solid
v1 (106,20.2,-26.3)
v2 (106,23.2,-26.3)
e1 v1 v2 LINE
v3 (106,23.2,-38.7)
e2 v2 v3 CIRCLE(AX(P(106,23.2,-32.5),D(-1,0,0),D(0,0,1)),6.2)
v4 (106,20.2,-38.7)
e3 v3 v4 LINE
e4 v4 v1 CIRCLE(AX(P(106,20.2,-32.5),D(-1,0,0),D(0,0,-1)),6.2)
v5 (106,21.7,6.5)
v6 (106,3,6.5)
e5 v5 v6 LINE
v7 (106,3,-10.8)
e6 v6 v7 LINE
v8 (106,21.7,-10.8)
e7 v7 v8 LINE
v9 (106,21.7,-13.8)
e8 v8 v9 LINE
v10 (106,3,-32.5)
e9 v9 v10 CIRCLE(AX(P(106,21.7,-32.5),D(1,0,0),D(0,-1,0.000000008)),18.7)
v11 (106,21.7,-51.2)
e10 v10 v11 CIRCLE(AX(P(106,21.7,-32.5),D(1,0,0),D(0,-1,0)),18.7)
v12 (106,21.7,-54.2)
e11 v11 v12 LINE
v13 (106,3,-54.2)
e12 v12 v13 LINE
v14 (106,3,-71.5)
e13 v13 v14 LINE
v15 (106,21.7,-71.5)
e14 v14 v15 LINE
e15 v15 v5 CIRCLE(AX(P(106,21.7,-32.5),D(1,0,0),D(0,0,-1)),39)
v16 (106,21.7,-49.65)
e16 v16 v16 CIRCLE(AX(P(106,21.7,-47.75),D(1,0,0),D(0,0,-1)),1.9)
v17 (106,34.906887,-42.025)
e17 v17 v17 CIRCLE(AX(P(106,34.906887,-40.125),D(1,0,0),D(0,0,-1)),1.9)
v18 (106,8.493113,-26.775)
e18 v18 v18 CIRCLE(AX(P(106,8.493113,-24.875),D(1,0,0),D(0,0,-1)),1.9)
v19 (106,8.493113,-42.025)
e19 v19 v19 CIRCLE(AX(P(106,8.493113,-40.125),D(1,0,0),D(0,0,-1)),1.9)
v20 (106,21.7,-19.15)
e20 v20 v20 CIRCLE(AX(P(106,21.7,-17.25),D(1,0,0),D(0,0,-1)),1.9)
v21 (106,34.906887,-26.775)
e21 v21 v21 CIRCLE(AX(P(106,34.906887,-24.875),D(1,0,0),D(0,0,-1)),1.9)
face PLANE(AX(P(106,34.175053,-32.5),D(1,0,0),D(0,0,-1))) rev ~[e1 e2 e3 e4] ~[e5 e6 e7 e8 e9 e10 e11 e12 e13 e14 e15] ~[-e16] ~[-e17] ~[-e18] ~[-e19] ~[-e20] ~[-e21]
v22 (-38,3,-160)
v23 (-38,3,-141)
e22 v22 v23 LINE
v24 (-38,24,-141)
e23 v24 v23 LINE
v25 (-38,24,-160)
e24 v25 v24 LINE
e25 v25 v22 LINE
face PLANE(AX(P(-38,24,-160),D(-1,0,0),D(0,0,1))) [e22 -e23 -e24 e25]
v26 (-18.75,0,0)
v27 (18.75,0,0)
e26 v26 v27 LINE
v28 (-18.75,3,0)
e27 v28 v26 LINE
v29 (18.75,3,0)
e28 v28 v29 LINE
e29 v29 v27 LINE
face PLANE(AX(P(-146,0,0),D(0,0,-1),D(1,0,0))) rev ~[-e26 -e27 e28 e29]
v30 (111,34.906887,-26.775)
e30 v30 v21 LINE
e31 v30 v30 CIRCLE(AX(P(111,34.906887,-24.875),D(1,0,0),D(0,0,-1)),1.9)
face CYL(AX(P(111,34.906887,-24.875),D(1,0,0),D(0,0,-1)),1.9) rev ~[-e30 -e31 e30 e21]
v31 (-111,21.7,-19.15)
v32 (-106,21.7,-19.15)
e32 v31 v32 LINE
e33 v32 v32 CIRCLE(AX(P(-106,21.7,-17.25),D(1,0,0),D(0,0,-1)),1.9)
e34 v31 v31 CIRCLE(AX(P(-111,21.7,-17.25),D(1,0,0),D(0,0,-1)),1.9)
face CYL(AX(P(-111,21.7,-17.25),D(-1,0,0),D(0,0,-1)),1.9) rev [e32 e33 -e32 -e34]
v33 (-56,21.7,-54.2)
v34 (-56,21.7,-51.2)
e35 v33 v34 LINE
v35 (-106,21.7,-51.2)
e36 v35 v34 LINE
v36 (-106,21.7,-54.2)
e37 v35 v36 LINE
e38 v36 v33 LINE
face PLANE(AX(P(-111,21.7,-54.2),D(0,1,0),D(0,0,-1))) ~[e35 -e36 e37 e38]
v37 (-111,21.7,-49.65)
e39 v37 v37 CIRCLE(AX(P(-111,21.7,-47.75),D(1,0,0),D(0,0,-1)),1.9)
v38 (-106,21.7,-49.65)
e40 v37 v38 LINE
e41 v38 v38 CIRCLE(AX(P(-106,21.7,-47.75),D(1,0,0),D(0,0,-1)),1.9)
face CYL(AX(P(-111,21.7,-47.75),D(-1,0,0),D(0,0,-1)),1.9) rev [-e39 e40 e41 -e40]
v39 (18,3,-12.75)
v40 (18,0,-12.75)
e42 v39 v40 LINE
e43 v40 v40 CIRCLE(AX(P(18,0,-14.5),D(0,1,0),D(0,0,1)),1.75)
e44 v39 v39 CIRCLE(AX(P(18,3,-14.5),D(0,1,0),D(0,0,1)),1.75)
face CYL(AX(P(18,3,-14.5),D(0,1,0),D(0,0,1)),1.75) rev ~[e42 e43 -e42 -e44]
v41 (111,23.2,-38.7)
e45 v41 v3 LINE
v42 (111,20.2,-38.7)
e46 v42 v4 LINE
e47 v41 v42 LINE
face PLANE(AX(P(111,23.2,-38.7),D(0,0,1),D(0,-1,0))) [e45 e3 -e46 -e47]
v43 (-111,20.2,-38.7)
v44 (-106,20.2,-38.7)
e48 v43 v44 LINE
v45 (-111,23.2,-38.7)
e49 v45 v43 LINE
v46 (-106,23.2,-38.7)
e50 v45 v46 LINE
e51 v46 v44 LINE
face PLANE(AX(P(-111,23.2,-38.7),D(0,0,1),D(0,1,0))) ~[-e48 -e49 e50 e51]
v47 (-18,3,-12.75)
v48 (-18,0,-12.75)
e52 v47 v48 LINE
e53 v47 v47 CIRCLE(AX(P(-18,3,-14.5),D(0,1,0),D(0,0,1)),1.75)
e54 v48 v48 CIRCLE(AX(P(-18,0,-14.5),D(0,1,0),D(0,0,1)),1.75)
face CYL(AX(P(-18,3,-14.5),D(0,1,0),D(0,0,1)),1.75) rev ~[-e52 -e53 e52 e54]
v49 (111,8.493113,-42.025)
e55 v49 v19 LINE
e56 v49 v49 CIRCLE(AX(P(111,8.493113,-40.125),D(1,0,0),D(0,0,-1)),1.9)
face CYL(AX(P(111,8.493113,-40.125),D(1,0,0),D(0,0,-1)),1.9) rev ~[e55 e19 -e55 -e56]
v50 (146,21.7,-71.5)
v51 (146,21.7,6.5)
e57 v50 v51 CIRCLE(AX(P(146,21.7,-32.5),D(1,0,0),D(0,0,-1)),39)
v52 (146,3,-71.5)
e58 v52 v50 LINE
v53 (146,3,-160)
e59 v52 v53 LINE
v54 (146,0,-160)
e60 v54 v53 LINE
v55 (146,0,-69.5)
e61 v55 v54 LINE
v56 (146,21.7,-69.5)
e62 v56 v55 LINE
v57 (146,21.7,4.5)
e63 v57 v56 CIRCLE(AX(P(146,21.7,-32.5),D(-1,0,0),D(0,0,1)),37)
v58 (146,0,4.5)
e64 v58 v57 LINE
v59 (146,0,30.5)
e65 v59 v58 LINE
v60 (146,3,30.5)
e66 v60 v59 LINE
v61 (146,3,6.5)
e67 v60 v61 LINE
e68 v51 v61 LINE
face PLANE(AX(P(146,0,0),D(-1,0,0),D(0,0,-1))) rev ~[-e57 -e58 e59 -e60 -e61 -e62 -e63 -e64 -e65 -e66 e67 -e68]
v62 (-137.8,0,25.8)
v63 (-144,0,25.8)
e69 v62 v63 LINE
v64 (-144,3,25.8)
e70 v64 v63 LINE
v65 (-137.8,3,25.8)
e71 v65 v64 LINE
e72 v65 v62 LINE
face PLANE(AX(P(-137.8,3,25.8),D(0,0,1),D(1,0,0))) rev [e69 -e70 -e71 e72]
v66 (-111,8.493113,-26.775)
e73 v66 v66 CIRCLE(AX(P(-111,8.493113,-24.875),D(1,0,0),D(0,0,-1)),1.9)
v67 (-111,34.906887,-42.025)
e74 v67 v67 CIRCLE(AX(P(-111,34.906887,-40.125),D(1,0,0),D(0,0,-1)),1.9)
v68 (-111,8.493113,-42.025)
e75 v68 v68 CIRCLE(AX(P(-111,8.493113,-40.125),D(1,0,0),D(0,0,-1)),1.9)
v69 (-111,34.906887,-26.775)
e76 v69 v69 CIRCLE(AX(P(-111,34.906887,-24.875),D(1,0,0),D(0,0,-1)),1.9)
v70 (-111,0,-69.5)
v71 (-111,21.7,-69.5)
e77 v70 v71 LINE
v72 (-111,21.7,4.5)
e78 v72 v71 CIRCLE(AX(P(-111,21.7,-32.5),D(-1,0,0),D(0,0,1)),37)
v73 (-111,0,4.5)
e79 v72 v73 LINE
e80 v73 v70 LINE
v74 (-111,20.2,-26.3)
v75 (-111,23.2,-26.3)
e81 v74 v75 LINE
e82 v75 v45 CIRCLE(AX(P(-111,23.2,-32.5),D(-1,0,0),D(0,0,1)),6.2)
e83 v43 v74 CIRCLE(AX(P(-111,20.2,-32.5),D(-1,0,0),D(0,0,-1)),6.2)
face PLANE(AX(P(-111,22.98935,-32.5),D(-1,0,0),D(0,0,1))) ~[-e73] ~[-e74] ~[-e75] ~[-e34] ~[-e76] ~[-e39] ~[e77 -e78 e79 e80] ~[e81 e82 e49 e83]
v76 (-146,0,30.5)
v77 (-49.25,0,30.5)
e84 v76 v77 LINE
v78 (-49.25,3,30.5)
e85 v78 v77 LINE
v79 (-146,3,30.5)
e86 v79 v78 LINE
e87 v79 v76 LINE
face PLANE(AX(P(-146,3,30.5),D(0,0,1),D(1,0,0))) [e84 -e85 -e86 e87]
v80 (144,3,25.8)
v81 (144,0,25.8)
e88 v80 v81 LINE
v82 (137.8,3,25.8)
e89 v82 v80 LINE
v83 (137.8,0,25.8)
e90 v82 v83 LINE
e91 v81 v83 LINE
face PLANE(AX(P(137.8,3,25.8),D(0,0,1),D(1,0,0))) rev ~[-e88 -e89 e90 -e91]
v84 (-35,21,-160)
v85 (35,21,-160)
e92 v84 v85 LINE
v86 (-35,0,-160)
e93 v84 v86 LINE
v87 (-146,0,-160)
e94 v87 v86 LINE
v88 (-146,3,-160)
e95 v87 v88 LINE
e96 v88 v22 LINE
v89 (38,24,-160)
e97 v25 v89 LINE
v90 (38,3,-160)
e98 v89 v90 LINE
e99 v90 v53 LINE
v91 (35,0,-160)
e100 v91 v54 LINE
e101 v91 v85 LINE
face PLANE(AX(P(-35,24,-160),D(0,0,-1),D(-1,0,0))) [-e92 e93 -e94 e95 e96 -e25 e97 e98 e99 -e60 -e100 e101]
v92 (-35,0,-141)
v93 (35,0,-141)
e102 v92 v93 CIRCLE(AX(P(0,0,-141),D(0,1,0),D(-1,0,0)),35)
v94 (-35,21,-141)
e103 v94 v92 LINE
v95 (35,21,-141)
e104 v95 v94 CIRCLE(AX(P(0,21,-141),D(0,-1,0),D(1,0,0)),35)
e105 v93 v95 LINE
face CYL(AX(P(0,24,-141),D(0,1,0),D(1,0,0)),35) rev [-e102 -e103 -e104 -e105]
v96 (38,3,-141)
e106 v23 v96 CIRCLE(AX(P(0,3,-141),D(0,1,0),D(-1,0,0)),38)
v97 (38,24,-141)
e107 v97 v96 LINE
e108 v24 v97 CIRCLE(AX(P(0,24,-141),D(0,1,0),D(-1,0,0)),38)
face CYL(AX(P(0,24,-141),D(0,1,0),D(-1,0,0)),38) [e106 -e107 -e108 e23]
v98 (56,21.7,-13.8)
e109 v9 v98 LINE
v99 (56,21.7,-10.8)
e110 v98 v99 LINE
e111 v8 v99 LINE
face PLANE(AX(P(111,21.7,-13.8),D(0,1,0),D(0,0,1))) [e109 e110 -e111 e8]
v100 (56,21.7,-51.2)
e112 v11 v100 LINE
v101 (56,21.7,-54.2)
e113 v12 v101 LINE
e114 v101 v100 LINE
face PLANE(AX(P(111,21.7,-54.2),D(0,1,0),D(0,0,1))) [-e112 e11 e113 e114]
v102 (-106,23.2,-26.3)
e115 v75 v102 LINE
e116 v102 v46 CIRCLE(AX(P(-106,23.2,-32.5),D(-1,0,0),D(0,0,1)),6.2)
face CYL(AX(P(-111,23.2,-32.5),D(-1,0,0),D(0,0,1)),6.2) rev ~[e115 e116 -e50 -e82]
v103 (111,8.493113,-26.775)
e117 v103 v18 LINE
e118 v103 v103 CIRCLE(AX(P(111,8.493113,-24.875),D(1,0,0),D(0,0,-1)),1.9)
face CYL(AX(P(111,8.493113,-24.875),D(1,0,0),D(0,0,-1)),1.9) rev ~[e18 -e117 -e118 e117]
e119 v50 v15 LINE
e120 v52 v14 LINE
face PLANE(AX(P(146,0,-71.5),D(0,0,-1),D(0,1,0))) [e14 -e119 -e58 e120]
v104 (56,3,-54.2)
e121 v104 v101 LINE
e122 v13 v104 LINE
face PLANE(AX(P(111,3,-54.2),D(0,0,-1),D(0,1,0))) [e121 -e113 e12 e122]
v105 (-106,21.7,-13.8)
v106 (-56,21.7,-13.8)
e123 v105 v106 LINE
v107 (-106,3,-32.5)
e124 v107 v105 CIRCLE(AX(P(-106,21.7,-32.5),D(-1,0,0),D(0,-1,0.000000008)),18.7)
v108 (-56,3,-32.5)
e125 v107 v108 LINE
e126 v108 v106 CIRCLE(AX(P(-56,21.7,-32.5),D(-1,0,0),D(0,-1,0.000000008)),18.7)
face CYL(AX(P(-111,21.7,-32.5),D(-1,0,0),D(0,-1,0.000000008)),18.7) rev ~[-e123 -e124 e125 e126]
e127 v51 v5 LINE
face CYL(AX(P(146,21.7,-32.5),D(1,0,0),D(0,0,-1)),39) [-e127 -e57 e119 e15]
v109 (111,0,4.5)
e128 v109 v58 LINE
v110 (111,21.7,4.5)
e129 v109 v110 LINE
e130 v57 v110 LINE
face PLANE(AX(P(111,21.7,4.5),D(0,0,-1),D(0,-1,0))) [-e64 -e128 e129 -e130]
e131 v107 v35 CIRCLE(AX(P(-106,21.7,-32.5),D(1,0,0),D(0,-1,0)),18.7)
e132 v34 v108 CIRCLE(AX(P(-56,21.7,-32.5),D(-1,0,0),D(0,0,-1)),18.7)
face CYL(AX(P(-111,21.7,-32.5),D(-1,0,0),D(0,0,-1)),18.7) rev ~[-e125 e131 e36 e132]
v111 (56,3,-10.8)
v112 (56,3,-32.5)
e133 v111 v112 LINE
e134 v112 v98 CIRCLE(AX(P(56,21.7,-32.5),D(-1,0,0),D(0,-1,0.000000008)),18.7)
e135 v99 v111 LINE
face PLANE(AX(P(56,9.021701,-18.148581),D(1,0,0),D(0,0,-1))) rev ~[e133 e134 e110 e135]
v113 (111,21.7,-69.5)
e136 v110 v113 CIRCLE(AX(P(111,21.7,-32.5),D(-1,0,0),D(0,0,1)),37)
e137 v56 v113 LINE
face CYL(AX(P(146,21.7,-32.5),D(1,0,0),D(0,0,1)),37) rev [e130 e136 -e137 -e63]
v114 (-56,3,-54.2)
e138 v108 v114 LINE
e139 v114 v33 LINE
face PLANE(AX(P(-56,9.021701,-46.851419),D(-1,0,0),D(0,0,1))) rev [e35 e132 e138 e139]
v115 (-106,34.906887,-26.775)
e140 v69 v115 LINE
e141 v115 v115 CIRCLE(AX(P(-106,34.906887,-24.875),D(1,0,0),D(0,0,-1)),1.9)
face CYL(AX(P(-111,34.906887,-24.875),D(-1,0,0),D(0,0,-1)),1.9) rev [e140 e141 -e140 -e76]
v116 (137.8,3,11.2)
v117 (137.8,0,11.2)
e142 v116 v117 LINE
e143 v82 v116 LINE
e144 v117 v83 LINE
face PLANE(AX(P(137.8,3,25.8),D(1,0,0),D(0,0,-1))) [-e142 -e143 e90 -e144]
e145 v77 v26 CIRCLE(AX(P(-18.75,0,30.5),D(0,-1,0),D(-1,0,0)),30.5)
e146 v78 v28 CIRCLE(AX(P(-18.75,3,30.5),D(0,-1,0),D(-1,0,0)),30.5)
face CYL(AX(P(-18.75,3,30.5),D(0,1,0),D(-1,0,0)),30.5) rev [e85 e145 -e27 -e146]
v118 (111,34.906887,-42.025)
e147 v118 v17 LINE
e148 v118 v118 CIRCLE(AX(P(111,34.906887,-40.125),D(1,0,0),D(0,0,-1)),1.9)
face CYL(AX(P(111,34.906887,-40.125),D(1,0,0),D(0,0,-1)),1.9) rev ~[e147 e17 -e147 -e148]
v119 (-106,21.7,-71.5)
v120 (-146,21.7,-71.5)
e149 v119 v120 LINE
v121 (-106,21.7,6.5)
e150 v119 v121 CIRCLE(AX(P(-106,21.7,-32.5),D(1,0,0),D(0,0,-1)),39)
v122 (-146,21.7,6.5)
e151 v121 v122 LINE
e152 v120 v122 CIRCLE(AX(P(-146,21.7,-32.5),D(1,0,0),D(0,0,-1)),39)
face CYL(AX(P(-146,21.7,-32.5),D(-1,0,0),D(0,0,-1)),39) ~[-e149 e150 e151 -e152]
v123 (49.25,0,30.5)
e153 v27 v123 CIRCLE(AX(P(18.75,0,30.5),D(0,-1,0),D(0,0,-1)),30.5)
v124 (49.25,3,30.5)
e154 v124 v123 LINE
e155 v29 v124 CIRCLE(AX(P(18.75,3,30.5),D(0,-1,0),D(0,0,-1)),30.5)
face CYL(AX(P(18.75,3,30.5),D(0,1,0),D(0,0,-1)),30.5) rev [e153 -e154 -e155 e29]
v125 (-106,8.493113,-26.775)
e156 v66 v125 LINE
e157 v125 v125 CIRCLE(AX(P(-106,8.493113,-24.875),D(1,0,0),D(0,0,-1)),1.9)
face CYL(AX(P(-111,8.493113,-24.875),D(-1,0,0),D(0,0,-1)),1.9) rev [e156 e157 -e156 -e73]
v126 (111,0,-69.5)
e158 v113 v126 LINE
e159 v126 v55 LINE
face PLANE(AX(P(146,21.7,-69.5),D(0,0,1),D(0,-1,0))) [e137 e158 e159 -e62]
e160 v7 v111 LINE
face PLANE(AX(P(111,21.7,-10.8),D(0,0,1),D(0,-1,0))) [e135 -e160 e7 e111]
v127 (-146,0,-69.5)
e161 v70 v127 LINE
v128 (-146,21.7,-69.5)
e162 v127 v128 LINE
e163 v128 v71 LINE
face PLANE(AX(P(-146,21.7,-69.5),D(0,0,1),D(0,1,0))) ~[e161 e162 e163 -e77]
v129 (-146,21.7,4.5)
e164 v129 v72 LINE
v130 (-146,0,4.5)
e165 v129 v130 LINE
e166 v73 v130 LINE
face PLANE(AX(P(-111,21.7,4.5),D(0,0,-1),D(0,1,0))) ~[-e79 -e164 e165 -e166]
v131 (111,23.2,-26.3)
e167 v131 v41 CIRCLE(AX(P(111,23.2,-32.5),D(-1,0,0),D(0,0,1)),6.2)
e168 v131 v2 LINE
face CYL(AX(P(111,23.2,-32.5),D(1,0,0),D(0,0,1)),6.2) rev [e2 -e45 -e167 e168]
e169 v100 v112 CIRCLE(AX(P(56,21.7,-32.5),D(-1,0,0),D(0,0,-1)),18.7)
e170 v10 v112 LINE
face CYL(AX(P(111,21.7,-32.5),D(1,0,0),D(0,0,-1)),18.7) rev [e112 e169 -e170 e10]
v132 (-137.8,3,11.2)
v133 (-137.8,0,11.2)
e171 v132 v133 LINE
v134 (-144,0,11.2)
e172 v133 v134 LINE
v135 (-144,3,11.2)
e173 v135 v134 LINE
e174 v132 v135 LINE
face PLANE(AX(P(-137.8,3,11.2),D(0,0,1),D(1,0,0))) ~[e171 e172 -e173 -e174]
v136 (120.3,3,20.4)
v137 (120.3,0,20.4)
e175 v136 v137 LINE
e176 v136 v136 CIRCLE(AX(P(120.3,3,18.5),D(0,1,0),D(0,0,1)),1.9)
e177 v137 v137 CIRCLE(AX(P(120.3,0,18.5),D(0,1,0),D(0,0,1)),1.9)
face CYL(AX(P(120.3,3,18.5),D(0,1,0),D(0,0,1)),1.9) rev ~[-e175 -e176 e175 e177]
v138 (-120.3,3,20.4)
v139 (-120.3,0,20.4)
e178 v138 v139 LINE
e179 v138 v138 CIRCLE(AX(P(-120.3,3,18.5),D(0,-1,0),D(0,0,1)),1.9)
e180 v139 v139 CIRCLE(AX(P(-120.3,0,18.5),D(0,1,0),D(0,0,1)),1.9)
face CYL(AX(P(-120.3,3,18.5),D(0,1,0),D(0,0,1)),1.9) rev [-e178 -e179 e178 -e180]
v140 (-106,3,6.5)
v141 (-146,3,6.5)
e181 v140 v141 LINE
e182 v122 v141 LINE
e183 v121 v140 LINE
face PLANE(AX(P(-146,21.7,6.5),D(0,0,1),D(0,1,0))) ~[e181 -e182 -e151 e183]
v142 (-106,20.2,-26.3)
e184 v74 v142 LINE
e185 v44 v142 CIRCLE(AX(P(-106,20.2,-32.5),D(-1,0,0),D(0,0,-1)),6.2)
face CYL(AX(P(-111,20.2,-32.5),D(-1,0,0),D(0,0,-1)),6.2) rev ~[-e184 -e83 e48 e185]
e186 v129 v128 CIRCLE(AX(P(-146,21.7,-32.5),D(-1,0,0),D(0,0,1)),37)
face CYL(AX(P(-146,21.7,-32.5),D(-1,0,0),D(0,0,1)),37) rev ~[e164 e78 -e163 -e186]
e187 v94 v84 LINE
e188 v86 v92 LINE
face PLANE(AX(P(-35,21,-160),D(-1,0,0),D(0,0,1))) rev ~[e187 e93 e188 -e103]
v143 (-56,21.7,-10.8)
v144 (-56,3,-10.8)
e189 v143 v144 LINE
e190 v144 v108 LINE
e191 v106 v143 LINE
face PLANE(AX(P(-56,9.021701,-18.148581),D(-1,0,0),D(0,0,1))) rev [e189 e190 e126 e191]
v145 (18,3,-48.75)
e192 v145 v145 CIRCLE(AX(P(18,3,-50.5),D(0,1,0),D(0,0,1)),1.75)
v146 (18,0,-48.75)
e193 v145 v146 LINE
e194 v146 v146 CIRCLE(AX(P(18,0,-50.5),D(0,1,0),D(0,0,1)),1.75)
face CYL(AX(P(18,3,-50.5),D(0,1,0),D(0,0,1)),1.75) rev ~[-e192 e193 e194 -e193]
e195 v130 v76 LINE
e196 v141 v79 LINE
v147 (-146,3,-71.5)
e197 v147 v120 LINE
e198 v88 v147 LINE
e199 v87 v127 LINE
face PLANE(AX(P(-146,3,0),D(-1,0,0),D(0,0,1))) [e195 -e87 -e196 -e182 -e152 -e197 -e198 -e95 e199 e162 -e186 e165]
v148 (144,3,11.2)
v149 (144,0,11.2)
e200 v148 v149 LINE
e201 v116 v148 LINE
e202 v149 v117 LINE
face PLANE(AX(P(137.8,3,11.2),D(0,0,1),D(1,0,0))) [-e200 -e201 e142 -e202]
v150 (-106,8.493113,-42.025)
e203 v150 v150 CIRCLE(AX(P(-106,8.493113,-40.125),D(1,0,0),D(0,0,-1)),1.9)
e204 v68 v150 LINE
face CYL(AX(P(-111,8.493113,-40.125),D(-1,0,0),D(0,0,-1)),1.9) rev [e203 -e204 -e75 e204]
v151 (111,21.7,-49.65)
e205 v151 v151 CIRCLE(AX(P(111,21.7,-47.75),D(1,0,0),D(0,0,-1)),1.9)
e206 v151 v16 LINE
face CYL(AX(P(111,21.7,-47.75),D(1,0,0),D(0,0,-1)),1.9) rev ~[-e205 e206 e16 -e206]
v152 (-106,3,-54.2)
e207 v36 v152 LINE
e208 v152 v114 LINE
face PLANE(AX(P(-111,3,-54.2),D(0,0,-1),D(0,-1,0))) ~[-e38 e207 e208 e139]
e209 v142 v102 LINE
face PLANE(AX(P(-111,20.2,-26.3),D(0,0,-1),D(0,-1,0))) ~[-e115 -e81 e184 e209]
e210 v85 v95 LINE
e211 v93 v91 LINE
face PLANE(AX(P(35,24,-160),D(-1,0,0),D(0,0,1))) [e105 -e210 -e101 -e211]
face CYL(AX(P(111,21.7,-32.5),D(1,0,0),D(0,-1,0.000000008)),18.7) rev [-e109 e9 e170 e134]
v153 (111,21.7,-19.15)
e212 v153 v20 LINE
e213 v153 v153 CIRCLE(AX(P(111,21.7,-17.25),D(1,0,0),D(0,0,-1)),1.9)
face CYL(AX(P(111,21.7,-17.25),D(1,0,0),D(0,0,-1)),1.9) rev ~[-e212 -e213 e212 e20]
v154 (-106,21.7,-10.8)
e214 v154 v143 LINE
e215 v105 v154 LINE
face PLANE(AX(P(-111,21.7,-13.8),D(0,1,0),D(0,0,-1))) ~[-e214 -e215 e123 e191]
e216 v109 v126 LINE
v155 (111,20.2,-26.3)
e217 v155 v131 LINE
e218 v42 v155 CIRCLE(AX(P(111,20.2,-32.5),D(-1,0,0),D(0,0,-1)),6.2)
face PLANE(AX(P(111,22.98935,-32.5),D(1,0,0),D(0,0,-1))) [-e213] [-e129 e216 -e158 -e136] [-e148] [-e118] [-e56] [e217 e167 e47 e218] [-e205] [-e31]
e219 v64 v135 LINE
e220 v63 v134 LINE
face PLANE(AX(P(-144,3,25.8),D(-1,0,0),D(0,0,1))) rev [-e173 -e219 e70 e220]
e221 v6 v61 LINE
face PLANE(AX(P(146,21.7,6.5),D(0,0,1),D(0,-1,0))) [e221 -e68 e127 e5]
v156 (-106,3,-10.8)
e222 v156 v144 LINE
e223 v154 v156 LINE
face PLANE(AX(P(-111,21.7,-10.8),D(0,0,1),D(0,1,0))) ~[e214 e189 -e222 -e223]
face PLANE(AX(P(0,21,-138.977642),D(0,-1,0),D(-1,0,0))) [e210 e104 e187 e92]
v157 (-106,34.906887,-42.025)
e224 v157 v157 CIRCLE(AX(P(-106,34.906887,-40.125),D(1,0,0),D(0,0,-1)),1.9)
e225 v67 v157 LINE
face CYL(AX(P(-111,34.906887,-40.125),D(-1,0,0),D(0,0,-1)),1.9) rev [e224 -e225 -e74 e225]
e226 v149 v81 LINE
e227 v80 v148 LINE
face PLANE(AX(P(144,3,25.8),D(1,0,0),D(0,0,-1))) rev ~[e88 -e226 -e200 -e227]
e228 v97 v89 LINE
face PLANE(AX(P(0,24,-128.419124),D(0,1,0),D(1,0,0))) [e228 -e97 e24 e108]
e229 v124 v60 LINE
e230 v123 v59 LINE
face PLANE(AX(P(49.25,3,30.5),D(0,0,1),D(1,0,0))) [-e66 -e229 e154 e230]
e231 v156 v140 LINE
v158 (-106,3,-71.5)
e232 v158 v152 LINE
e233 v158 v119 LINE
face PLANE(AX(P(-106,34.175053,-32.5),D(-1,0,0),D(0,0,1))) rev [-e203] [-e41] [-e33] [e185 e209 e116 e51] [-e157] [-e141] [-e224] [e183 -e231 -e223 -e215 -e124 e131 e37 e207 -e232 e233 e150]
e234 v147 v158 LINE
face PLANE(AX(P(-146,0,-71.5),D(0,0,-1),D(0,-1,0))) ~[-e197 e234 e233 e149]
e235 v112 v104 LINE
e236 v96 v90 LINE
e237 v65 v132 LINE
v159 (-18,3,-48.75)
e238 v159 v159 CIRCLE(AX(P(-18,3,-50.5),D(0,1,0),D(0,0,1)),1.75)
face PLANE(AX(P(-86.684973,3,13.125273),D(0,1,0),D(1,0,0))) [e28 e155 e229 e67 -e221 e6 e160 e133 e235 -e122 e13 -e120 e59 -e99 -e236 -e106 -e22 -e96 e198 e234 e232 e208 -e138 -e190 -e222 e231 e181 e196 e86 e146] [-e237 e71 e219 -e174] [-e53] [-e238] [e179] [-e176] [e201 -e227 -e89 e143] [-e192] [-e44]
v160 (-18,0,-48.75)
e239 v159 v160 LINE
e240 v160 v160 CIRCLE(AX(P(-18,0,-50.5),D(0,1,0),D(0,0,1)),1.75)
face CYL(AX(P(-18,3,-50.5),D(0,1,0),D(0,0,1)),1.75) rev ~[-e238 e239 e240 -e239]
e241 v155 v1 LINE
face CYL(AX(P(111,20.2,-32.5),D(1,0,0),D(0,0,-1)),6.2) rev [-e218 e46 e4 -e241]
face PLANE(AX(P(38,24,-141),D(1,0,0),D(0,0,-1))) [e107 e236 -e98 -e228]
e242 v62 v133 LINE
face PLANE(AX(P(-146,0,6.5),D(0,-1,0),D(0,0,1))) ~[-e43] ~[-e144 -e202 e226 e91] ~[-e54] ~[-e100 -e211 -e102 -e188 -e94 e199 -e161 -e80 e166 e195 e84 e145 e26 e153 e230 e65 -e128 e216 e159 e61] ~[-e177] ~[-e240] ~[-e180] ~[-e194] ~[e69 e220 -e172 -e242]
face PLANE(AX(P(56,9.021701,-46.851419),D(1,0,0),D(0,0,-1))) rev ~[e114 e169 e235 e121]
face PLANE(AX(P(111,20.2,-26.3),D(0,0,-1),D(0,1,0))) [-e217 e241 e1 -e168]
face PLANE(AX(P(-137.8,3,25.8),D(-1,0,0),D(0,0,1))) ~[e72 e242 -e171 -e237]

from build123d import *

# Parameters (mm, degrees)
SKETCH2_W           = 292
SKETCH2_H           = 160
BOSS_EXTRUDE1_DEPTH = 3
BOSS_EXTRUDE2_DEPTH = 3
BOSS_EXTRUDE3_START = -35
BOSS_EXTRUDE3_DEPTH = 55
SKETCH5_R           = 1.9
BOSS_EXTRUDE4_DEPTH = 5
BOSS_EXTRUDE5_START = 35
BOSS_EXTRUDE5_DEPTH = 35
SKETCH5_5_R         = 1.9
CUT_EXTRUDE1_DEPTH  = 309.76121842
SKETCH6_R           = 1.9
SKETCH6_W           = 6.2
SKETCH6_H           = 14.6
CUT_EXTRUDE2_DEPTH  = 225.15461182
SKETCH7_R           = 1.75
CUT_EXTRUDE3_DEPTH  = 225.15461182
BOSS_EXTRUDE6_DEPTH = 3
BOSS_EXTRUDE7_DEPTH = 21
SKETCH8_3_W         = 32
SKETCH8_3_H         = 38
CUT_EXTRUDE4_DEPTH  = 221.209195993


with BuildPart() as part:
    # Sketch2 → Boss-Extrude1 (new body)
    with BuildSketch(Plane(origin=(0, 0, 0), x_dir=(1, 0, 0), z_dir=(0, 1, 0))):
        with Locations((0, 80)):
            Rectangle(SKETCH2_W, SKETCH2_H)
    extrude(amount=BOSS_EXTRUDE1_DEPTH)

    # Sketch3 → Boss-Extrude2 (add)
    with BuildSketch(Plane(origin=(0, 3, 0), x_dir=(1, 0, 0), z_dir=(0, 1, 0))):
        with BuildLine():
            ThreePointArc((-49.25, -30.5), (-40.316756826, -8.933243174), (-18.75, 0))
            Line((-18.75, 0), (-146, 0))
            Line((-146, 0), (-146, -30.5))
            Line((-146, -30.5), (-49.25, -30.5))
        make_face()
        with BuildLine():
            Line((146, -30.5), (146, 0))
            Line((146, 0), (18.75, 0))
            ThreePointArc((18.75, 0), (40.316756826, -8.933243174), (49.25, -30.5))
            Line((49.25, -30.5), (146, -30.5))
        make_face()
    extrude(amount=-BOSS_EXTRUDE2_DEPTH)

    # Sketch4 → Boss-Extrude3 (add)
    with BuildSketch(Plane(origin=(146, 0, 0), x_dir=(0, 0, -1), z_dir=(1, 0, 0)).offset(BOSS_EXTRUDE3_START)):
        with BuildLine():
            Line((10.8, 21.7), (10.8, 3))
            Line((10.8, 3), (32.499999845, 3))
            ThreePointArc((32.499999845, 3), (19.277103137, 8.477103246), (13.8, 21.7))
            Line((13.8, 21.7), (10.8, 21.7))
        make_face()
        with BuildLine():
            ThreePointArc((51.2, 21.7), (45.722896754, 8.477103137), (32.499999845, 3))
            Line((32.499999845, 3), (54.2, 3))
            Line((54.2, 3), (54.2, 21.7))
            Line((54.2, 21.7), (51.2, 21.7))
        make_face()
    boss_extrude3 = extrude(amount=-BOSS_EXTRUDE3_DEPTH)

    # Sketch5 → Boss-Extrude4 (add)
    # profile 1 of 3: a face of its own
    with BuildSketch(Plane(origin=(111, 0, 0), x_dir=(0, 0, -1), z_dir=(1, 0, 0))):
        with BuildLine():
            Line((-4.5, 21.7), (-4.5, 0))
            Line((-4.5, 0), (69.5, 0))
            Line((69.5, 0), (69.5, 21.7))
            ThreePointArc((69.5, 21.7), (32.5, 58.7), (-4.5, 21.7))
        make_face()
        with Locations((24.875, 8.493112592)):
            Circle(SKETCH5_R, mode=Mode.SUBTRACT)
        with Locations((17.25, 21.7)):
            Circle(SKETCH5_R, mode=Mode.SUBTRACT)
        with Locations((40.125, 8.493112592)):
            Circle(SKETCH5_R, mode=Mode.SUBTRACT)
        with BuildLine():
            ThreePointArc((32.5, 3), (45.722896808, 8.477103192), (51.2, 21.7))
            Line((51.2, 21.7), (54.2, 21.7))
            Line((54.2, 21.7), (54.2, 3))
            Line((54.2, 3), (32.5, 3))
        make_face(mode=Mode.SUBTRACT)
        with BuildLine():
            ThreePointArc((26.3, 23.2), (32.5, 29.4), (38.7, 23.2))
            Line((38.7, 23.2), (38.7, 20.2))
            ThreePointArc((38.7, 20.2), (32.5, 14), (26.3, 20.2))
            Line((26.3, 20.2), (26.3, 23.2))
        make_face(mode=Mode.SUBTRACT)
        with Locations((47.75, 21.7)):
            Circle(SKETCH5_R, mode=Mode.SUBTRACT)
        with Locations((24.875, 34.906887408)):
            Circle(SKETCH5_R, mode=Mode.SUBTRACT)
        with Locations((40.125, 34.906887408)):
            Circle(SKETCH5_R, mode=Mode.SUBTRACT)
    # profile 2 of 3: a face of its own
    with BuildSketch(Plane(origin=(111, 0, 0), x_dir=(0, 0, -1), z_dir=(1, 0, 0))):
        with BuildLine():
            Line((-6.5, 0), (-4.5, 0))
            Line((-4.5, 0), (-4.5, 21.7))
            ThreePointArc((-4.5, 21.7), (32.5, 58.7), (69.5, 21.7))
            Line((69.5, 21.7), (69.5, 0))
            Line((69.5, 0), (71.5, 0))
            Line((71.5, 0), (71.5, 21.7))
            ThreePointArc((71.5, 21.7), (32.5, 60.7), (-6.5, 21.7))
            Line((-6.5, 21.7), (-6.5, 0))
        make_face()
    # profile 3 of 3: a face of its own
    with BuildSketch(Plane(origin=(111, 0, 0), x_dir=(0, 0, -1), z_dir=(1, 0, 0))):
        with BuildLine():
            Line((54.2, 21.7), (51.2, 21.7))
            ThreePointArc((51.2, 21.7), (45.722896808, 8.477103192), (32.5, 3))
            Line((32.5, 3), (54.2, 3))
            Line((54.2, 3), (54.2, 21.7))
        make_face()
    boss_extrude4 = extrude(amount=-BOSS_EXTRUDE4_DEPTH)

    # Sketch5<4> → Boss-Extrude5 (add)
    with BuildSketch(Plane(origin=(111, 0, 0), x_dir=(0, 0, -1), z_dir=(1, 0, 0)).offset(BOSS_EXTRUDE5_START)):
        with BuildLine():
            Line((-6.5, 0), (-4.5, 0))
            Line((-4.5, 0), (-4.5, 21.7))
            ThreePointArc((-4.5, 21.7), (32.5, 58.7), (69.5, 21.7))
            Line((69.5, 21.7), (69.5, 0))
            Line((69.5, 0), (71.5, 0))
            Line((71.5, 0), (71.5, 21.7))
            ThreePointArc((71.5, 21.7), (32.5, 60.7), (-6.5, 21.7))
            Line((-6.5, 21.7), (-6.5, 0))
        make_face()
    boss_extrude5 = extrude(amount=-BOSS_EXTRUDE5_DEPTH)

    # Sketch5<5> → Cut-Extrude1 (cut, through all)
    # profile 1 of 2: a face of its own
    with BuildSketch(Plane(origin=(111, 0, 0), x_dir=(0, 0, -1), z_dir=(1, 0, 0))):
        with BuildLine():
            Line((-4.5, 21.7), (-4.5, 0))
            Line((-4.5, 0), (69.5, 0))
            Line((69.5, 0), (69.5, 21.7))
            ThreePointArc((69.5, 21.7), (32.5, 58.7), (-4.5, 21.7))
        make_face()
        with Locations((24.875, 8.493112592)):
            Circle(SKETCH5_5_R, mode=Mode.SUBTRACT)
        with Locations((17.25, 21.7)):
            Circle(SKETCH5_5_R, mode=Mode.SUBTRACT)
        with Locations((40.125, 8.493112592)):
            Circle(SKETCH5_5_R, mode=Mode.SUBTRACT)
        with BuildLine():
            ThreePointArc((32.5, 3), (45.722896808, 8.477103192), (51.2, 21.7))
            Line((51.2, 21.7), (54.2, 21.7))
            Line((54.2, 21.7), (54.2, 3))
            Line((54.2, 3), (32.5, 3))
        make_face(mode=Mode.SUBTRACT)
        with BuildLine():
            ThreePointArc((26.3, 23.2), (32.5, 29.4), (38.7, 23.2))
            Line((38.7, 23.2), (38.7, 20.2))
            ThreePointArc((38.7, 20.2), (32.5, 14), (26.3, 20.2))
            Line((26.3, 20.2), (26.3, 23.2))
        make_face(mode=Mode.SUBTRACT)
        with Locations((47.75, 21.7)):
            Circle(SKETCH5_5_R, mode=Mode.SUBTRACT)
        with Locations((24.875, 34.906887408)):
            Circle(SKETCH5_5_R, mode=Mode.SUBTRACT)
        with Locations((40.125, 34.906887408)):
            Circle(SKETCH5_5_R, mode=Mode.SUBTRACT)
    # profile 2 of 2: a face of its own
    with BuildSketch(Plane(origin=(111, 0, 0), x_dir=(0, 0, -1), z_dir=(1, 0, 0))):
        with BuildLine():
            Line((54.2, 21.7), (51.2, 21.7))
            ThreePointArc((51.2, 21.7), (45.722896808, 8.477103192), (32.5, 3))
            Line((32.5, 3), (54.2, 3))
            Line((54.2, 3), (54.2, 21.7))
        make_face()
    cut_extrude1 = extrude(amount=CUT_EXTRUDE1_DEPTH, mode=Mode.SUBTRACT)

    # Sketch6 → Cut-Extrude2 (cut, through all)
    with BuildSketch(Plane(origin=(0, 3, 0), x_dir=(1, 0, 0), z_dir=(0, 1, 0))):
        with Locations(Location((120.3, -18.5, 0), (0, 0, 270))):
            Circle(SKETCH6_R)
        with Locations((140.9, -18.5)):
            Rectangle(SKETCH6_W, SKETCH6_H)
    cut_extrude2 = extrude(amount=-CUT_EXTRUDE2_DEPTH, mode=Mode.SUBTRACT)

    # Mirror1: Boss-Extrude3, Boss-Extrude4, Boss-Extrude5, Cut-Extrude1, Cut-Extrude2 across plane
    add(boss_extrude3.mirror(Plane(origin=(0, 0, 0), x_dir=(0, 0, 1), z_dir=(1, 0, 0))))
    add(boss_extrude4.mirror(Plane(origin=(0, 0, 0), x_dir=(0, 0, 1), z_dir=(1, 0, 0))))
    add(boss_extrude5.mirror(Plane(origin=(0, 0, 0), x_dir=(0, 0, 1), z_dir=(1, 0, 0))))
    add(cut_extrude1.mirror(Plane(origin=(0, 0, 0), x_dir=(0, 0, 1), z_dir=(1, 0, 0))), mode=Mode.SUBTRACT)
    add(cut_extrude2.mirror(Plane(origin=(0, 0, 0), x_dir=(0, 0, 1), z_dir=(1, 0, 0))), mode=Mode.SUBTRACT)

    # Sketch7 → Cut-Extrude3 (cut, through all)
    with BuildSketch(Plane(origin=(0, 3, 0), x_dir=(1, 0, 0), z_dir=(0, 1, 0))):
        with Locations(Location((-18, 14.5, 0), (0, 0, 270))):
            Circle(SKETCH7_R)
        with Locations(Location((18, 14.5, 0), (0, 0, 270))):
            Circle(SKETCH7_R)
        with Locations(Location((18, 50.5, 0), (0, 0, 270))):
            Circle(SKETCH7_R)
        with Locations(Location((-18, 50.5, 0), (0, 0, 270))):
            Circle(SKETCH7_R)
    extrude(amount=-CUT_EXTRUDE3_DEPTH, mode=Mode.SUBTRACT)



with BuildPart() as body_2:
    # Sketch8 → Boss-Extrude6 (new body)
    with BuildSketch(Plane(origin=(0, 21, 0), x_dir=(1, 0, 0), z_dir=(0, 1, 0))):
        with BuildLine():
            Line((-35, 141), (-35, 160))
            Line((-35, 160), (35, 160))
            Line((35, 160), (35, 141))
            ThreePointArc((35, 141), (0, 106), (-35, 141))
        make_face()
    extrude(amount=BOSS_EXTRUDE6_DEPTH)


with BuildPart() as part_1:
    add(part.part)

    add(body_2.part)  # Boss-Extrude7 merges body 2
    # Sketch10 → Boss-Extrude7 (add)
    with BuildSketch(Plane(origin=(0, 24, 0), x_dir=(1, 0, 0), z_dir=(0, 1, 0))):
        with BuildLine():
            Line((-38, 160), (-38, 141))
            ThreePointArc((-38, 141), (0, 103), (38, 141))
            Line((38, 141), (38, 160))
            Line((38, 160), (35, 160))
            Line((35, 160), (35, 141))
            ThreePointArc((35, 141), (0, 106), (-35, 141))
            Line((-35, 141), (-35, 160))
            Line((-35, 160), (-38, 160))
        make_face()
    extrude(amount=-BOSS_EXTRUDE7_DEPTH)

    # Sketch8<3> → Cut-Extrude4 (cut, through all)
    with BuildSketch(Plane(origin=(0, 21, 0), x_dir=(1, 0, 0), z_dir=(0, 1, 0))):
        with Locations((0, 141)):
            Rectangle(SKETCH8_3_W, SKETCH8_3_H)
        with BuildLine():
            Line((-16, 122), (-16, 160))
            Line((-16, 160), (-35, 160))
            Line((-35, 160), (-35, 141))
            ThreePointArc((-35, 141), (0, 106), (35, 141))
            Line((35, 141), (35, 160))
            Line((35, 160), (16, 160))
            Line((16, 160), (16, 122))
            Line((16, 122), (-16, 122))
        make_face()
    extrude(amount=-CUT_EXTRUDE4_DEPTH, mode=Mode.SUBTRACT)


solid = part_1.part
